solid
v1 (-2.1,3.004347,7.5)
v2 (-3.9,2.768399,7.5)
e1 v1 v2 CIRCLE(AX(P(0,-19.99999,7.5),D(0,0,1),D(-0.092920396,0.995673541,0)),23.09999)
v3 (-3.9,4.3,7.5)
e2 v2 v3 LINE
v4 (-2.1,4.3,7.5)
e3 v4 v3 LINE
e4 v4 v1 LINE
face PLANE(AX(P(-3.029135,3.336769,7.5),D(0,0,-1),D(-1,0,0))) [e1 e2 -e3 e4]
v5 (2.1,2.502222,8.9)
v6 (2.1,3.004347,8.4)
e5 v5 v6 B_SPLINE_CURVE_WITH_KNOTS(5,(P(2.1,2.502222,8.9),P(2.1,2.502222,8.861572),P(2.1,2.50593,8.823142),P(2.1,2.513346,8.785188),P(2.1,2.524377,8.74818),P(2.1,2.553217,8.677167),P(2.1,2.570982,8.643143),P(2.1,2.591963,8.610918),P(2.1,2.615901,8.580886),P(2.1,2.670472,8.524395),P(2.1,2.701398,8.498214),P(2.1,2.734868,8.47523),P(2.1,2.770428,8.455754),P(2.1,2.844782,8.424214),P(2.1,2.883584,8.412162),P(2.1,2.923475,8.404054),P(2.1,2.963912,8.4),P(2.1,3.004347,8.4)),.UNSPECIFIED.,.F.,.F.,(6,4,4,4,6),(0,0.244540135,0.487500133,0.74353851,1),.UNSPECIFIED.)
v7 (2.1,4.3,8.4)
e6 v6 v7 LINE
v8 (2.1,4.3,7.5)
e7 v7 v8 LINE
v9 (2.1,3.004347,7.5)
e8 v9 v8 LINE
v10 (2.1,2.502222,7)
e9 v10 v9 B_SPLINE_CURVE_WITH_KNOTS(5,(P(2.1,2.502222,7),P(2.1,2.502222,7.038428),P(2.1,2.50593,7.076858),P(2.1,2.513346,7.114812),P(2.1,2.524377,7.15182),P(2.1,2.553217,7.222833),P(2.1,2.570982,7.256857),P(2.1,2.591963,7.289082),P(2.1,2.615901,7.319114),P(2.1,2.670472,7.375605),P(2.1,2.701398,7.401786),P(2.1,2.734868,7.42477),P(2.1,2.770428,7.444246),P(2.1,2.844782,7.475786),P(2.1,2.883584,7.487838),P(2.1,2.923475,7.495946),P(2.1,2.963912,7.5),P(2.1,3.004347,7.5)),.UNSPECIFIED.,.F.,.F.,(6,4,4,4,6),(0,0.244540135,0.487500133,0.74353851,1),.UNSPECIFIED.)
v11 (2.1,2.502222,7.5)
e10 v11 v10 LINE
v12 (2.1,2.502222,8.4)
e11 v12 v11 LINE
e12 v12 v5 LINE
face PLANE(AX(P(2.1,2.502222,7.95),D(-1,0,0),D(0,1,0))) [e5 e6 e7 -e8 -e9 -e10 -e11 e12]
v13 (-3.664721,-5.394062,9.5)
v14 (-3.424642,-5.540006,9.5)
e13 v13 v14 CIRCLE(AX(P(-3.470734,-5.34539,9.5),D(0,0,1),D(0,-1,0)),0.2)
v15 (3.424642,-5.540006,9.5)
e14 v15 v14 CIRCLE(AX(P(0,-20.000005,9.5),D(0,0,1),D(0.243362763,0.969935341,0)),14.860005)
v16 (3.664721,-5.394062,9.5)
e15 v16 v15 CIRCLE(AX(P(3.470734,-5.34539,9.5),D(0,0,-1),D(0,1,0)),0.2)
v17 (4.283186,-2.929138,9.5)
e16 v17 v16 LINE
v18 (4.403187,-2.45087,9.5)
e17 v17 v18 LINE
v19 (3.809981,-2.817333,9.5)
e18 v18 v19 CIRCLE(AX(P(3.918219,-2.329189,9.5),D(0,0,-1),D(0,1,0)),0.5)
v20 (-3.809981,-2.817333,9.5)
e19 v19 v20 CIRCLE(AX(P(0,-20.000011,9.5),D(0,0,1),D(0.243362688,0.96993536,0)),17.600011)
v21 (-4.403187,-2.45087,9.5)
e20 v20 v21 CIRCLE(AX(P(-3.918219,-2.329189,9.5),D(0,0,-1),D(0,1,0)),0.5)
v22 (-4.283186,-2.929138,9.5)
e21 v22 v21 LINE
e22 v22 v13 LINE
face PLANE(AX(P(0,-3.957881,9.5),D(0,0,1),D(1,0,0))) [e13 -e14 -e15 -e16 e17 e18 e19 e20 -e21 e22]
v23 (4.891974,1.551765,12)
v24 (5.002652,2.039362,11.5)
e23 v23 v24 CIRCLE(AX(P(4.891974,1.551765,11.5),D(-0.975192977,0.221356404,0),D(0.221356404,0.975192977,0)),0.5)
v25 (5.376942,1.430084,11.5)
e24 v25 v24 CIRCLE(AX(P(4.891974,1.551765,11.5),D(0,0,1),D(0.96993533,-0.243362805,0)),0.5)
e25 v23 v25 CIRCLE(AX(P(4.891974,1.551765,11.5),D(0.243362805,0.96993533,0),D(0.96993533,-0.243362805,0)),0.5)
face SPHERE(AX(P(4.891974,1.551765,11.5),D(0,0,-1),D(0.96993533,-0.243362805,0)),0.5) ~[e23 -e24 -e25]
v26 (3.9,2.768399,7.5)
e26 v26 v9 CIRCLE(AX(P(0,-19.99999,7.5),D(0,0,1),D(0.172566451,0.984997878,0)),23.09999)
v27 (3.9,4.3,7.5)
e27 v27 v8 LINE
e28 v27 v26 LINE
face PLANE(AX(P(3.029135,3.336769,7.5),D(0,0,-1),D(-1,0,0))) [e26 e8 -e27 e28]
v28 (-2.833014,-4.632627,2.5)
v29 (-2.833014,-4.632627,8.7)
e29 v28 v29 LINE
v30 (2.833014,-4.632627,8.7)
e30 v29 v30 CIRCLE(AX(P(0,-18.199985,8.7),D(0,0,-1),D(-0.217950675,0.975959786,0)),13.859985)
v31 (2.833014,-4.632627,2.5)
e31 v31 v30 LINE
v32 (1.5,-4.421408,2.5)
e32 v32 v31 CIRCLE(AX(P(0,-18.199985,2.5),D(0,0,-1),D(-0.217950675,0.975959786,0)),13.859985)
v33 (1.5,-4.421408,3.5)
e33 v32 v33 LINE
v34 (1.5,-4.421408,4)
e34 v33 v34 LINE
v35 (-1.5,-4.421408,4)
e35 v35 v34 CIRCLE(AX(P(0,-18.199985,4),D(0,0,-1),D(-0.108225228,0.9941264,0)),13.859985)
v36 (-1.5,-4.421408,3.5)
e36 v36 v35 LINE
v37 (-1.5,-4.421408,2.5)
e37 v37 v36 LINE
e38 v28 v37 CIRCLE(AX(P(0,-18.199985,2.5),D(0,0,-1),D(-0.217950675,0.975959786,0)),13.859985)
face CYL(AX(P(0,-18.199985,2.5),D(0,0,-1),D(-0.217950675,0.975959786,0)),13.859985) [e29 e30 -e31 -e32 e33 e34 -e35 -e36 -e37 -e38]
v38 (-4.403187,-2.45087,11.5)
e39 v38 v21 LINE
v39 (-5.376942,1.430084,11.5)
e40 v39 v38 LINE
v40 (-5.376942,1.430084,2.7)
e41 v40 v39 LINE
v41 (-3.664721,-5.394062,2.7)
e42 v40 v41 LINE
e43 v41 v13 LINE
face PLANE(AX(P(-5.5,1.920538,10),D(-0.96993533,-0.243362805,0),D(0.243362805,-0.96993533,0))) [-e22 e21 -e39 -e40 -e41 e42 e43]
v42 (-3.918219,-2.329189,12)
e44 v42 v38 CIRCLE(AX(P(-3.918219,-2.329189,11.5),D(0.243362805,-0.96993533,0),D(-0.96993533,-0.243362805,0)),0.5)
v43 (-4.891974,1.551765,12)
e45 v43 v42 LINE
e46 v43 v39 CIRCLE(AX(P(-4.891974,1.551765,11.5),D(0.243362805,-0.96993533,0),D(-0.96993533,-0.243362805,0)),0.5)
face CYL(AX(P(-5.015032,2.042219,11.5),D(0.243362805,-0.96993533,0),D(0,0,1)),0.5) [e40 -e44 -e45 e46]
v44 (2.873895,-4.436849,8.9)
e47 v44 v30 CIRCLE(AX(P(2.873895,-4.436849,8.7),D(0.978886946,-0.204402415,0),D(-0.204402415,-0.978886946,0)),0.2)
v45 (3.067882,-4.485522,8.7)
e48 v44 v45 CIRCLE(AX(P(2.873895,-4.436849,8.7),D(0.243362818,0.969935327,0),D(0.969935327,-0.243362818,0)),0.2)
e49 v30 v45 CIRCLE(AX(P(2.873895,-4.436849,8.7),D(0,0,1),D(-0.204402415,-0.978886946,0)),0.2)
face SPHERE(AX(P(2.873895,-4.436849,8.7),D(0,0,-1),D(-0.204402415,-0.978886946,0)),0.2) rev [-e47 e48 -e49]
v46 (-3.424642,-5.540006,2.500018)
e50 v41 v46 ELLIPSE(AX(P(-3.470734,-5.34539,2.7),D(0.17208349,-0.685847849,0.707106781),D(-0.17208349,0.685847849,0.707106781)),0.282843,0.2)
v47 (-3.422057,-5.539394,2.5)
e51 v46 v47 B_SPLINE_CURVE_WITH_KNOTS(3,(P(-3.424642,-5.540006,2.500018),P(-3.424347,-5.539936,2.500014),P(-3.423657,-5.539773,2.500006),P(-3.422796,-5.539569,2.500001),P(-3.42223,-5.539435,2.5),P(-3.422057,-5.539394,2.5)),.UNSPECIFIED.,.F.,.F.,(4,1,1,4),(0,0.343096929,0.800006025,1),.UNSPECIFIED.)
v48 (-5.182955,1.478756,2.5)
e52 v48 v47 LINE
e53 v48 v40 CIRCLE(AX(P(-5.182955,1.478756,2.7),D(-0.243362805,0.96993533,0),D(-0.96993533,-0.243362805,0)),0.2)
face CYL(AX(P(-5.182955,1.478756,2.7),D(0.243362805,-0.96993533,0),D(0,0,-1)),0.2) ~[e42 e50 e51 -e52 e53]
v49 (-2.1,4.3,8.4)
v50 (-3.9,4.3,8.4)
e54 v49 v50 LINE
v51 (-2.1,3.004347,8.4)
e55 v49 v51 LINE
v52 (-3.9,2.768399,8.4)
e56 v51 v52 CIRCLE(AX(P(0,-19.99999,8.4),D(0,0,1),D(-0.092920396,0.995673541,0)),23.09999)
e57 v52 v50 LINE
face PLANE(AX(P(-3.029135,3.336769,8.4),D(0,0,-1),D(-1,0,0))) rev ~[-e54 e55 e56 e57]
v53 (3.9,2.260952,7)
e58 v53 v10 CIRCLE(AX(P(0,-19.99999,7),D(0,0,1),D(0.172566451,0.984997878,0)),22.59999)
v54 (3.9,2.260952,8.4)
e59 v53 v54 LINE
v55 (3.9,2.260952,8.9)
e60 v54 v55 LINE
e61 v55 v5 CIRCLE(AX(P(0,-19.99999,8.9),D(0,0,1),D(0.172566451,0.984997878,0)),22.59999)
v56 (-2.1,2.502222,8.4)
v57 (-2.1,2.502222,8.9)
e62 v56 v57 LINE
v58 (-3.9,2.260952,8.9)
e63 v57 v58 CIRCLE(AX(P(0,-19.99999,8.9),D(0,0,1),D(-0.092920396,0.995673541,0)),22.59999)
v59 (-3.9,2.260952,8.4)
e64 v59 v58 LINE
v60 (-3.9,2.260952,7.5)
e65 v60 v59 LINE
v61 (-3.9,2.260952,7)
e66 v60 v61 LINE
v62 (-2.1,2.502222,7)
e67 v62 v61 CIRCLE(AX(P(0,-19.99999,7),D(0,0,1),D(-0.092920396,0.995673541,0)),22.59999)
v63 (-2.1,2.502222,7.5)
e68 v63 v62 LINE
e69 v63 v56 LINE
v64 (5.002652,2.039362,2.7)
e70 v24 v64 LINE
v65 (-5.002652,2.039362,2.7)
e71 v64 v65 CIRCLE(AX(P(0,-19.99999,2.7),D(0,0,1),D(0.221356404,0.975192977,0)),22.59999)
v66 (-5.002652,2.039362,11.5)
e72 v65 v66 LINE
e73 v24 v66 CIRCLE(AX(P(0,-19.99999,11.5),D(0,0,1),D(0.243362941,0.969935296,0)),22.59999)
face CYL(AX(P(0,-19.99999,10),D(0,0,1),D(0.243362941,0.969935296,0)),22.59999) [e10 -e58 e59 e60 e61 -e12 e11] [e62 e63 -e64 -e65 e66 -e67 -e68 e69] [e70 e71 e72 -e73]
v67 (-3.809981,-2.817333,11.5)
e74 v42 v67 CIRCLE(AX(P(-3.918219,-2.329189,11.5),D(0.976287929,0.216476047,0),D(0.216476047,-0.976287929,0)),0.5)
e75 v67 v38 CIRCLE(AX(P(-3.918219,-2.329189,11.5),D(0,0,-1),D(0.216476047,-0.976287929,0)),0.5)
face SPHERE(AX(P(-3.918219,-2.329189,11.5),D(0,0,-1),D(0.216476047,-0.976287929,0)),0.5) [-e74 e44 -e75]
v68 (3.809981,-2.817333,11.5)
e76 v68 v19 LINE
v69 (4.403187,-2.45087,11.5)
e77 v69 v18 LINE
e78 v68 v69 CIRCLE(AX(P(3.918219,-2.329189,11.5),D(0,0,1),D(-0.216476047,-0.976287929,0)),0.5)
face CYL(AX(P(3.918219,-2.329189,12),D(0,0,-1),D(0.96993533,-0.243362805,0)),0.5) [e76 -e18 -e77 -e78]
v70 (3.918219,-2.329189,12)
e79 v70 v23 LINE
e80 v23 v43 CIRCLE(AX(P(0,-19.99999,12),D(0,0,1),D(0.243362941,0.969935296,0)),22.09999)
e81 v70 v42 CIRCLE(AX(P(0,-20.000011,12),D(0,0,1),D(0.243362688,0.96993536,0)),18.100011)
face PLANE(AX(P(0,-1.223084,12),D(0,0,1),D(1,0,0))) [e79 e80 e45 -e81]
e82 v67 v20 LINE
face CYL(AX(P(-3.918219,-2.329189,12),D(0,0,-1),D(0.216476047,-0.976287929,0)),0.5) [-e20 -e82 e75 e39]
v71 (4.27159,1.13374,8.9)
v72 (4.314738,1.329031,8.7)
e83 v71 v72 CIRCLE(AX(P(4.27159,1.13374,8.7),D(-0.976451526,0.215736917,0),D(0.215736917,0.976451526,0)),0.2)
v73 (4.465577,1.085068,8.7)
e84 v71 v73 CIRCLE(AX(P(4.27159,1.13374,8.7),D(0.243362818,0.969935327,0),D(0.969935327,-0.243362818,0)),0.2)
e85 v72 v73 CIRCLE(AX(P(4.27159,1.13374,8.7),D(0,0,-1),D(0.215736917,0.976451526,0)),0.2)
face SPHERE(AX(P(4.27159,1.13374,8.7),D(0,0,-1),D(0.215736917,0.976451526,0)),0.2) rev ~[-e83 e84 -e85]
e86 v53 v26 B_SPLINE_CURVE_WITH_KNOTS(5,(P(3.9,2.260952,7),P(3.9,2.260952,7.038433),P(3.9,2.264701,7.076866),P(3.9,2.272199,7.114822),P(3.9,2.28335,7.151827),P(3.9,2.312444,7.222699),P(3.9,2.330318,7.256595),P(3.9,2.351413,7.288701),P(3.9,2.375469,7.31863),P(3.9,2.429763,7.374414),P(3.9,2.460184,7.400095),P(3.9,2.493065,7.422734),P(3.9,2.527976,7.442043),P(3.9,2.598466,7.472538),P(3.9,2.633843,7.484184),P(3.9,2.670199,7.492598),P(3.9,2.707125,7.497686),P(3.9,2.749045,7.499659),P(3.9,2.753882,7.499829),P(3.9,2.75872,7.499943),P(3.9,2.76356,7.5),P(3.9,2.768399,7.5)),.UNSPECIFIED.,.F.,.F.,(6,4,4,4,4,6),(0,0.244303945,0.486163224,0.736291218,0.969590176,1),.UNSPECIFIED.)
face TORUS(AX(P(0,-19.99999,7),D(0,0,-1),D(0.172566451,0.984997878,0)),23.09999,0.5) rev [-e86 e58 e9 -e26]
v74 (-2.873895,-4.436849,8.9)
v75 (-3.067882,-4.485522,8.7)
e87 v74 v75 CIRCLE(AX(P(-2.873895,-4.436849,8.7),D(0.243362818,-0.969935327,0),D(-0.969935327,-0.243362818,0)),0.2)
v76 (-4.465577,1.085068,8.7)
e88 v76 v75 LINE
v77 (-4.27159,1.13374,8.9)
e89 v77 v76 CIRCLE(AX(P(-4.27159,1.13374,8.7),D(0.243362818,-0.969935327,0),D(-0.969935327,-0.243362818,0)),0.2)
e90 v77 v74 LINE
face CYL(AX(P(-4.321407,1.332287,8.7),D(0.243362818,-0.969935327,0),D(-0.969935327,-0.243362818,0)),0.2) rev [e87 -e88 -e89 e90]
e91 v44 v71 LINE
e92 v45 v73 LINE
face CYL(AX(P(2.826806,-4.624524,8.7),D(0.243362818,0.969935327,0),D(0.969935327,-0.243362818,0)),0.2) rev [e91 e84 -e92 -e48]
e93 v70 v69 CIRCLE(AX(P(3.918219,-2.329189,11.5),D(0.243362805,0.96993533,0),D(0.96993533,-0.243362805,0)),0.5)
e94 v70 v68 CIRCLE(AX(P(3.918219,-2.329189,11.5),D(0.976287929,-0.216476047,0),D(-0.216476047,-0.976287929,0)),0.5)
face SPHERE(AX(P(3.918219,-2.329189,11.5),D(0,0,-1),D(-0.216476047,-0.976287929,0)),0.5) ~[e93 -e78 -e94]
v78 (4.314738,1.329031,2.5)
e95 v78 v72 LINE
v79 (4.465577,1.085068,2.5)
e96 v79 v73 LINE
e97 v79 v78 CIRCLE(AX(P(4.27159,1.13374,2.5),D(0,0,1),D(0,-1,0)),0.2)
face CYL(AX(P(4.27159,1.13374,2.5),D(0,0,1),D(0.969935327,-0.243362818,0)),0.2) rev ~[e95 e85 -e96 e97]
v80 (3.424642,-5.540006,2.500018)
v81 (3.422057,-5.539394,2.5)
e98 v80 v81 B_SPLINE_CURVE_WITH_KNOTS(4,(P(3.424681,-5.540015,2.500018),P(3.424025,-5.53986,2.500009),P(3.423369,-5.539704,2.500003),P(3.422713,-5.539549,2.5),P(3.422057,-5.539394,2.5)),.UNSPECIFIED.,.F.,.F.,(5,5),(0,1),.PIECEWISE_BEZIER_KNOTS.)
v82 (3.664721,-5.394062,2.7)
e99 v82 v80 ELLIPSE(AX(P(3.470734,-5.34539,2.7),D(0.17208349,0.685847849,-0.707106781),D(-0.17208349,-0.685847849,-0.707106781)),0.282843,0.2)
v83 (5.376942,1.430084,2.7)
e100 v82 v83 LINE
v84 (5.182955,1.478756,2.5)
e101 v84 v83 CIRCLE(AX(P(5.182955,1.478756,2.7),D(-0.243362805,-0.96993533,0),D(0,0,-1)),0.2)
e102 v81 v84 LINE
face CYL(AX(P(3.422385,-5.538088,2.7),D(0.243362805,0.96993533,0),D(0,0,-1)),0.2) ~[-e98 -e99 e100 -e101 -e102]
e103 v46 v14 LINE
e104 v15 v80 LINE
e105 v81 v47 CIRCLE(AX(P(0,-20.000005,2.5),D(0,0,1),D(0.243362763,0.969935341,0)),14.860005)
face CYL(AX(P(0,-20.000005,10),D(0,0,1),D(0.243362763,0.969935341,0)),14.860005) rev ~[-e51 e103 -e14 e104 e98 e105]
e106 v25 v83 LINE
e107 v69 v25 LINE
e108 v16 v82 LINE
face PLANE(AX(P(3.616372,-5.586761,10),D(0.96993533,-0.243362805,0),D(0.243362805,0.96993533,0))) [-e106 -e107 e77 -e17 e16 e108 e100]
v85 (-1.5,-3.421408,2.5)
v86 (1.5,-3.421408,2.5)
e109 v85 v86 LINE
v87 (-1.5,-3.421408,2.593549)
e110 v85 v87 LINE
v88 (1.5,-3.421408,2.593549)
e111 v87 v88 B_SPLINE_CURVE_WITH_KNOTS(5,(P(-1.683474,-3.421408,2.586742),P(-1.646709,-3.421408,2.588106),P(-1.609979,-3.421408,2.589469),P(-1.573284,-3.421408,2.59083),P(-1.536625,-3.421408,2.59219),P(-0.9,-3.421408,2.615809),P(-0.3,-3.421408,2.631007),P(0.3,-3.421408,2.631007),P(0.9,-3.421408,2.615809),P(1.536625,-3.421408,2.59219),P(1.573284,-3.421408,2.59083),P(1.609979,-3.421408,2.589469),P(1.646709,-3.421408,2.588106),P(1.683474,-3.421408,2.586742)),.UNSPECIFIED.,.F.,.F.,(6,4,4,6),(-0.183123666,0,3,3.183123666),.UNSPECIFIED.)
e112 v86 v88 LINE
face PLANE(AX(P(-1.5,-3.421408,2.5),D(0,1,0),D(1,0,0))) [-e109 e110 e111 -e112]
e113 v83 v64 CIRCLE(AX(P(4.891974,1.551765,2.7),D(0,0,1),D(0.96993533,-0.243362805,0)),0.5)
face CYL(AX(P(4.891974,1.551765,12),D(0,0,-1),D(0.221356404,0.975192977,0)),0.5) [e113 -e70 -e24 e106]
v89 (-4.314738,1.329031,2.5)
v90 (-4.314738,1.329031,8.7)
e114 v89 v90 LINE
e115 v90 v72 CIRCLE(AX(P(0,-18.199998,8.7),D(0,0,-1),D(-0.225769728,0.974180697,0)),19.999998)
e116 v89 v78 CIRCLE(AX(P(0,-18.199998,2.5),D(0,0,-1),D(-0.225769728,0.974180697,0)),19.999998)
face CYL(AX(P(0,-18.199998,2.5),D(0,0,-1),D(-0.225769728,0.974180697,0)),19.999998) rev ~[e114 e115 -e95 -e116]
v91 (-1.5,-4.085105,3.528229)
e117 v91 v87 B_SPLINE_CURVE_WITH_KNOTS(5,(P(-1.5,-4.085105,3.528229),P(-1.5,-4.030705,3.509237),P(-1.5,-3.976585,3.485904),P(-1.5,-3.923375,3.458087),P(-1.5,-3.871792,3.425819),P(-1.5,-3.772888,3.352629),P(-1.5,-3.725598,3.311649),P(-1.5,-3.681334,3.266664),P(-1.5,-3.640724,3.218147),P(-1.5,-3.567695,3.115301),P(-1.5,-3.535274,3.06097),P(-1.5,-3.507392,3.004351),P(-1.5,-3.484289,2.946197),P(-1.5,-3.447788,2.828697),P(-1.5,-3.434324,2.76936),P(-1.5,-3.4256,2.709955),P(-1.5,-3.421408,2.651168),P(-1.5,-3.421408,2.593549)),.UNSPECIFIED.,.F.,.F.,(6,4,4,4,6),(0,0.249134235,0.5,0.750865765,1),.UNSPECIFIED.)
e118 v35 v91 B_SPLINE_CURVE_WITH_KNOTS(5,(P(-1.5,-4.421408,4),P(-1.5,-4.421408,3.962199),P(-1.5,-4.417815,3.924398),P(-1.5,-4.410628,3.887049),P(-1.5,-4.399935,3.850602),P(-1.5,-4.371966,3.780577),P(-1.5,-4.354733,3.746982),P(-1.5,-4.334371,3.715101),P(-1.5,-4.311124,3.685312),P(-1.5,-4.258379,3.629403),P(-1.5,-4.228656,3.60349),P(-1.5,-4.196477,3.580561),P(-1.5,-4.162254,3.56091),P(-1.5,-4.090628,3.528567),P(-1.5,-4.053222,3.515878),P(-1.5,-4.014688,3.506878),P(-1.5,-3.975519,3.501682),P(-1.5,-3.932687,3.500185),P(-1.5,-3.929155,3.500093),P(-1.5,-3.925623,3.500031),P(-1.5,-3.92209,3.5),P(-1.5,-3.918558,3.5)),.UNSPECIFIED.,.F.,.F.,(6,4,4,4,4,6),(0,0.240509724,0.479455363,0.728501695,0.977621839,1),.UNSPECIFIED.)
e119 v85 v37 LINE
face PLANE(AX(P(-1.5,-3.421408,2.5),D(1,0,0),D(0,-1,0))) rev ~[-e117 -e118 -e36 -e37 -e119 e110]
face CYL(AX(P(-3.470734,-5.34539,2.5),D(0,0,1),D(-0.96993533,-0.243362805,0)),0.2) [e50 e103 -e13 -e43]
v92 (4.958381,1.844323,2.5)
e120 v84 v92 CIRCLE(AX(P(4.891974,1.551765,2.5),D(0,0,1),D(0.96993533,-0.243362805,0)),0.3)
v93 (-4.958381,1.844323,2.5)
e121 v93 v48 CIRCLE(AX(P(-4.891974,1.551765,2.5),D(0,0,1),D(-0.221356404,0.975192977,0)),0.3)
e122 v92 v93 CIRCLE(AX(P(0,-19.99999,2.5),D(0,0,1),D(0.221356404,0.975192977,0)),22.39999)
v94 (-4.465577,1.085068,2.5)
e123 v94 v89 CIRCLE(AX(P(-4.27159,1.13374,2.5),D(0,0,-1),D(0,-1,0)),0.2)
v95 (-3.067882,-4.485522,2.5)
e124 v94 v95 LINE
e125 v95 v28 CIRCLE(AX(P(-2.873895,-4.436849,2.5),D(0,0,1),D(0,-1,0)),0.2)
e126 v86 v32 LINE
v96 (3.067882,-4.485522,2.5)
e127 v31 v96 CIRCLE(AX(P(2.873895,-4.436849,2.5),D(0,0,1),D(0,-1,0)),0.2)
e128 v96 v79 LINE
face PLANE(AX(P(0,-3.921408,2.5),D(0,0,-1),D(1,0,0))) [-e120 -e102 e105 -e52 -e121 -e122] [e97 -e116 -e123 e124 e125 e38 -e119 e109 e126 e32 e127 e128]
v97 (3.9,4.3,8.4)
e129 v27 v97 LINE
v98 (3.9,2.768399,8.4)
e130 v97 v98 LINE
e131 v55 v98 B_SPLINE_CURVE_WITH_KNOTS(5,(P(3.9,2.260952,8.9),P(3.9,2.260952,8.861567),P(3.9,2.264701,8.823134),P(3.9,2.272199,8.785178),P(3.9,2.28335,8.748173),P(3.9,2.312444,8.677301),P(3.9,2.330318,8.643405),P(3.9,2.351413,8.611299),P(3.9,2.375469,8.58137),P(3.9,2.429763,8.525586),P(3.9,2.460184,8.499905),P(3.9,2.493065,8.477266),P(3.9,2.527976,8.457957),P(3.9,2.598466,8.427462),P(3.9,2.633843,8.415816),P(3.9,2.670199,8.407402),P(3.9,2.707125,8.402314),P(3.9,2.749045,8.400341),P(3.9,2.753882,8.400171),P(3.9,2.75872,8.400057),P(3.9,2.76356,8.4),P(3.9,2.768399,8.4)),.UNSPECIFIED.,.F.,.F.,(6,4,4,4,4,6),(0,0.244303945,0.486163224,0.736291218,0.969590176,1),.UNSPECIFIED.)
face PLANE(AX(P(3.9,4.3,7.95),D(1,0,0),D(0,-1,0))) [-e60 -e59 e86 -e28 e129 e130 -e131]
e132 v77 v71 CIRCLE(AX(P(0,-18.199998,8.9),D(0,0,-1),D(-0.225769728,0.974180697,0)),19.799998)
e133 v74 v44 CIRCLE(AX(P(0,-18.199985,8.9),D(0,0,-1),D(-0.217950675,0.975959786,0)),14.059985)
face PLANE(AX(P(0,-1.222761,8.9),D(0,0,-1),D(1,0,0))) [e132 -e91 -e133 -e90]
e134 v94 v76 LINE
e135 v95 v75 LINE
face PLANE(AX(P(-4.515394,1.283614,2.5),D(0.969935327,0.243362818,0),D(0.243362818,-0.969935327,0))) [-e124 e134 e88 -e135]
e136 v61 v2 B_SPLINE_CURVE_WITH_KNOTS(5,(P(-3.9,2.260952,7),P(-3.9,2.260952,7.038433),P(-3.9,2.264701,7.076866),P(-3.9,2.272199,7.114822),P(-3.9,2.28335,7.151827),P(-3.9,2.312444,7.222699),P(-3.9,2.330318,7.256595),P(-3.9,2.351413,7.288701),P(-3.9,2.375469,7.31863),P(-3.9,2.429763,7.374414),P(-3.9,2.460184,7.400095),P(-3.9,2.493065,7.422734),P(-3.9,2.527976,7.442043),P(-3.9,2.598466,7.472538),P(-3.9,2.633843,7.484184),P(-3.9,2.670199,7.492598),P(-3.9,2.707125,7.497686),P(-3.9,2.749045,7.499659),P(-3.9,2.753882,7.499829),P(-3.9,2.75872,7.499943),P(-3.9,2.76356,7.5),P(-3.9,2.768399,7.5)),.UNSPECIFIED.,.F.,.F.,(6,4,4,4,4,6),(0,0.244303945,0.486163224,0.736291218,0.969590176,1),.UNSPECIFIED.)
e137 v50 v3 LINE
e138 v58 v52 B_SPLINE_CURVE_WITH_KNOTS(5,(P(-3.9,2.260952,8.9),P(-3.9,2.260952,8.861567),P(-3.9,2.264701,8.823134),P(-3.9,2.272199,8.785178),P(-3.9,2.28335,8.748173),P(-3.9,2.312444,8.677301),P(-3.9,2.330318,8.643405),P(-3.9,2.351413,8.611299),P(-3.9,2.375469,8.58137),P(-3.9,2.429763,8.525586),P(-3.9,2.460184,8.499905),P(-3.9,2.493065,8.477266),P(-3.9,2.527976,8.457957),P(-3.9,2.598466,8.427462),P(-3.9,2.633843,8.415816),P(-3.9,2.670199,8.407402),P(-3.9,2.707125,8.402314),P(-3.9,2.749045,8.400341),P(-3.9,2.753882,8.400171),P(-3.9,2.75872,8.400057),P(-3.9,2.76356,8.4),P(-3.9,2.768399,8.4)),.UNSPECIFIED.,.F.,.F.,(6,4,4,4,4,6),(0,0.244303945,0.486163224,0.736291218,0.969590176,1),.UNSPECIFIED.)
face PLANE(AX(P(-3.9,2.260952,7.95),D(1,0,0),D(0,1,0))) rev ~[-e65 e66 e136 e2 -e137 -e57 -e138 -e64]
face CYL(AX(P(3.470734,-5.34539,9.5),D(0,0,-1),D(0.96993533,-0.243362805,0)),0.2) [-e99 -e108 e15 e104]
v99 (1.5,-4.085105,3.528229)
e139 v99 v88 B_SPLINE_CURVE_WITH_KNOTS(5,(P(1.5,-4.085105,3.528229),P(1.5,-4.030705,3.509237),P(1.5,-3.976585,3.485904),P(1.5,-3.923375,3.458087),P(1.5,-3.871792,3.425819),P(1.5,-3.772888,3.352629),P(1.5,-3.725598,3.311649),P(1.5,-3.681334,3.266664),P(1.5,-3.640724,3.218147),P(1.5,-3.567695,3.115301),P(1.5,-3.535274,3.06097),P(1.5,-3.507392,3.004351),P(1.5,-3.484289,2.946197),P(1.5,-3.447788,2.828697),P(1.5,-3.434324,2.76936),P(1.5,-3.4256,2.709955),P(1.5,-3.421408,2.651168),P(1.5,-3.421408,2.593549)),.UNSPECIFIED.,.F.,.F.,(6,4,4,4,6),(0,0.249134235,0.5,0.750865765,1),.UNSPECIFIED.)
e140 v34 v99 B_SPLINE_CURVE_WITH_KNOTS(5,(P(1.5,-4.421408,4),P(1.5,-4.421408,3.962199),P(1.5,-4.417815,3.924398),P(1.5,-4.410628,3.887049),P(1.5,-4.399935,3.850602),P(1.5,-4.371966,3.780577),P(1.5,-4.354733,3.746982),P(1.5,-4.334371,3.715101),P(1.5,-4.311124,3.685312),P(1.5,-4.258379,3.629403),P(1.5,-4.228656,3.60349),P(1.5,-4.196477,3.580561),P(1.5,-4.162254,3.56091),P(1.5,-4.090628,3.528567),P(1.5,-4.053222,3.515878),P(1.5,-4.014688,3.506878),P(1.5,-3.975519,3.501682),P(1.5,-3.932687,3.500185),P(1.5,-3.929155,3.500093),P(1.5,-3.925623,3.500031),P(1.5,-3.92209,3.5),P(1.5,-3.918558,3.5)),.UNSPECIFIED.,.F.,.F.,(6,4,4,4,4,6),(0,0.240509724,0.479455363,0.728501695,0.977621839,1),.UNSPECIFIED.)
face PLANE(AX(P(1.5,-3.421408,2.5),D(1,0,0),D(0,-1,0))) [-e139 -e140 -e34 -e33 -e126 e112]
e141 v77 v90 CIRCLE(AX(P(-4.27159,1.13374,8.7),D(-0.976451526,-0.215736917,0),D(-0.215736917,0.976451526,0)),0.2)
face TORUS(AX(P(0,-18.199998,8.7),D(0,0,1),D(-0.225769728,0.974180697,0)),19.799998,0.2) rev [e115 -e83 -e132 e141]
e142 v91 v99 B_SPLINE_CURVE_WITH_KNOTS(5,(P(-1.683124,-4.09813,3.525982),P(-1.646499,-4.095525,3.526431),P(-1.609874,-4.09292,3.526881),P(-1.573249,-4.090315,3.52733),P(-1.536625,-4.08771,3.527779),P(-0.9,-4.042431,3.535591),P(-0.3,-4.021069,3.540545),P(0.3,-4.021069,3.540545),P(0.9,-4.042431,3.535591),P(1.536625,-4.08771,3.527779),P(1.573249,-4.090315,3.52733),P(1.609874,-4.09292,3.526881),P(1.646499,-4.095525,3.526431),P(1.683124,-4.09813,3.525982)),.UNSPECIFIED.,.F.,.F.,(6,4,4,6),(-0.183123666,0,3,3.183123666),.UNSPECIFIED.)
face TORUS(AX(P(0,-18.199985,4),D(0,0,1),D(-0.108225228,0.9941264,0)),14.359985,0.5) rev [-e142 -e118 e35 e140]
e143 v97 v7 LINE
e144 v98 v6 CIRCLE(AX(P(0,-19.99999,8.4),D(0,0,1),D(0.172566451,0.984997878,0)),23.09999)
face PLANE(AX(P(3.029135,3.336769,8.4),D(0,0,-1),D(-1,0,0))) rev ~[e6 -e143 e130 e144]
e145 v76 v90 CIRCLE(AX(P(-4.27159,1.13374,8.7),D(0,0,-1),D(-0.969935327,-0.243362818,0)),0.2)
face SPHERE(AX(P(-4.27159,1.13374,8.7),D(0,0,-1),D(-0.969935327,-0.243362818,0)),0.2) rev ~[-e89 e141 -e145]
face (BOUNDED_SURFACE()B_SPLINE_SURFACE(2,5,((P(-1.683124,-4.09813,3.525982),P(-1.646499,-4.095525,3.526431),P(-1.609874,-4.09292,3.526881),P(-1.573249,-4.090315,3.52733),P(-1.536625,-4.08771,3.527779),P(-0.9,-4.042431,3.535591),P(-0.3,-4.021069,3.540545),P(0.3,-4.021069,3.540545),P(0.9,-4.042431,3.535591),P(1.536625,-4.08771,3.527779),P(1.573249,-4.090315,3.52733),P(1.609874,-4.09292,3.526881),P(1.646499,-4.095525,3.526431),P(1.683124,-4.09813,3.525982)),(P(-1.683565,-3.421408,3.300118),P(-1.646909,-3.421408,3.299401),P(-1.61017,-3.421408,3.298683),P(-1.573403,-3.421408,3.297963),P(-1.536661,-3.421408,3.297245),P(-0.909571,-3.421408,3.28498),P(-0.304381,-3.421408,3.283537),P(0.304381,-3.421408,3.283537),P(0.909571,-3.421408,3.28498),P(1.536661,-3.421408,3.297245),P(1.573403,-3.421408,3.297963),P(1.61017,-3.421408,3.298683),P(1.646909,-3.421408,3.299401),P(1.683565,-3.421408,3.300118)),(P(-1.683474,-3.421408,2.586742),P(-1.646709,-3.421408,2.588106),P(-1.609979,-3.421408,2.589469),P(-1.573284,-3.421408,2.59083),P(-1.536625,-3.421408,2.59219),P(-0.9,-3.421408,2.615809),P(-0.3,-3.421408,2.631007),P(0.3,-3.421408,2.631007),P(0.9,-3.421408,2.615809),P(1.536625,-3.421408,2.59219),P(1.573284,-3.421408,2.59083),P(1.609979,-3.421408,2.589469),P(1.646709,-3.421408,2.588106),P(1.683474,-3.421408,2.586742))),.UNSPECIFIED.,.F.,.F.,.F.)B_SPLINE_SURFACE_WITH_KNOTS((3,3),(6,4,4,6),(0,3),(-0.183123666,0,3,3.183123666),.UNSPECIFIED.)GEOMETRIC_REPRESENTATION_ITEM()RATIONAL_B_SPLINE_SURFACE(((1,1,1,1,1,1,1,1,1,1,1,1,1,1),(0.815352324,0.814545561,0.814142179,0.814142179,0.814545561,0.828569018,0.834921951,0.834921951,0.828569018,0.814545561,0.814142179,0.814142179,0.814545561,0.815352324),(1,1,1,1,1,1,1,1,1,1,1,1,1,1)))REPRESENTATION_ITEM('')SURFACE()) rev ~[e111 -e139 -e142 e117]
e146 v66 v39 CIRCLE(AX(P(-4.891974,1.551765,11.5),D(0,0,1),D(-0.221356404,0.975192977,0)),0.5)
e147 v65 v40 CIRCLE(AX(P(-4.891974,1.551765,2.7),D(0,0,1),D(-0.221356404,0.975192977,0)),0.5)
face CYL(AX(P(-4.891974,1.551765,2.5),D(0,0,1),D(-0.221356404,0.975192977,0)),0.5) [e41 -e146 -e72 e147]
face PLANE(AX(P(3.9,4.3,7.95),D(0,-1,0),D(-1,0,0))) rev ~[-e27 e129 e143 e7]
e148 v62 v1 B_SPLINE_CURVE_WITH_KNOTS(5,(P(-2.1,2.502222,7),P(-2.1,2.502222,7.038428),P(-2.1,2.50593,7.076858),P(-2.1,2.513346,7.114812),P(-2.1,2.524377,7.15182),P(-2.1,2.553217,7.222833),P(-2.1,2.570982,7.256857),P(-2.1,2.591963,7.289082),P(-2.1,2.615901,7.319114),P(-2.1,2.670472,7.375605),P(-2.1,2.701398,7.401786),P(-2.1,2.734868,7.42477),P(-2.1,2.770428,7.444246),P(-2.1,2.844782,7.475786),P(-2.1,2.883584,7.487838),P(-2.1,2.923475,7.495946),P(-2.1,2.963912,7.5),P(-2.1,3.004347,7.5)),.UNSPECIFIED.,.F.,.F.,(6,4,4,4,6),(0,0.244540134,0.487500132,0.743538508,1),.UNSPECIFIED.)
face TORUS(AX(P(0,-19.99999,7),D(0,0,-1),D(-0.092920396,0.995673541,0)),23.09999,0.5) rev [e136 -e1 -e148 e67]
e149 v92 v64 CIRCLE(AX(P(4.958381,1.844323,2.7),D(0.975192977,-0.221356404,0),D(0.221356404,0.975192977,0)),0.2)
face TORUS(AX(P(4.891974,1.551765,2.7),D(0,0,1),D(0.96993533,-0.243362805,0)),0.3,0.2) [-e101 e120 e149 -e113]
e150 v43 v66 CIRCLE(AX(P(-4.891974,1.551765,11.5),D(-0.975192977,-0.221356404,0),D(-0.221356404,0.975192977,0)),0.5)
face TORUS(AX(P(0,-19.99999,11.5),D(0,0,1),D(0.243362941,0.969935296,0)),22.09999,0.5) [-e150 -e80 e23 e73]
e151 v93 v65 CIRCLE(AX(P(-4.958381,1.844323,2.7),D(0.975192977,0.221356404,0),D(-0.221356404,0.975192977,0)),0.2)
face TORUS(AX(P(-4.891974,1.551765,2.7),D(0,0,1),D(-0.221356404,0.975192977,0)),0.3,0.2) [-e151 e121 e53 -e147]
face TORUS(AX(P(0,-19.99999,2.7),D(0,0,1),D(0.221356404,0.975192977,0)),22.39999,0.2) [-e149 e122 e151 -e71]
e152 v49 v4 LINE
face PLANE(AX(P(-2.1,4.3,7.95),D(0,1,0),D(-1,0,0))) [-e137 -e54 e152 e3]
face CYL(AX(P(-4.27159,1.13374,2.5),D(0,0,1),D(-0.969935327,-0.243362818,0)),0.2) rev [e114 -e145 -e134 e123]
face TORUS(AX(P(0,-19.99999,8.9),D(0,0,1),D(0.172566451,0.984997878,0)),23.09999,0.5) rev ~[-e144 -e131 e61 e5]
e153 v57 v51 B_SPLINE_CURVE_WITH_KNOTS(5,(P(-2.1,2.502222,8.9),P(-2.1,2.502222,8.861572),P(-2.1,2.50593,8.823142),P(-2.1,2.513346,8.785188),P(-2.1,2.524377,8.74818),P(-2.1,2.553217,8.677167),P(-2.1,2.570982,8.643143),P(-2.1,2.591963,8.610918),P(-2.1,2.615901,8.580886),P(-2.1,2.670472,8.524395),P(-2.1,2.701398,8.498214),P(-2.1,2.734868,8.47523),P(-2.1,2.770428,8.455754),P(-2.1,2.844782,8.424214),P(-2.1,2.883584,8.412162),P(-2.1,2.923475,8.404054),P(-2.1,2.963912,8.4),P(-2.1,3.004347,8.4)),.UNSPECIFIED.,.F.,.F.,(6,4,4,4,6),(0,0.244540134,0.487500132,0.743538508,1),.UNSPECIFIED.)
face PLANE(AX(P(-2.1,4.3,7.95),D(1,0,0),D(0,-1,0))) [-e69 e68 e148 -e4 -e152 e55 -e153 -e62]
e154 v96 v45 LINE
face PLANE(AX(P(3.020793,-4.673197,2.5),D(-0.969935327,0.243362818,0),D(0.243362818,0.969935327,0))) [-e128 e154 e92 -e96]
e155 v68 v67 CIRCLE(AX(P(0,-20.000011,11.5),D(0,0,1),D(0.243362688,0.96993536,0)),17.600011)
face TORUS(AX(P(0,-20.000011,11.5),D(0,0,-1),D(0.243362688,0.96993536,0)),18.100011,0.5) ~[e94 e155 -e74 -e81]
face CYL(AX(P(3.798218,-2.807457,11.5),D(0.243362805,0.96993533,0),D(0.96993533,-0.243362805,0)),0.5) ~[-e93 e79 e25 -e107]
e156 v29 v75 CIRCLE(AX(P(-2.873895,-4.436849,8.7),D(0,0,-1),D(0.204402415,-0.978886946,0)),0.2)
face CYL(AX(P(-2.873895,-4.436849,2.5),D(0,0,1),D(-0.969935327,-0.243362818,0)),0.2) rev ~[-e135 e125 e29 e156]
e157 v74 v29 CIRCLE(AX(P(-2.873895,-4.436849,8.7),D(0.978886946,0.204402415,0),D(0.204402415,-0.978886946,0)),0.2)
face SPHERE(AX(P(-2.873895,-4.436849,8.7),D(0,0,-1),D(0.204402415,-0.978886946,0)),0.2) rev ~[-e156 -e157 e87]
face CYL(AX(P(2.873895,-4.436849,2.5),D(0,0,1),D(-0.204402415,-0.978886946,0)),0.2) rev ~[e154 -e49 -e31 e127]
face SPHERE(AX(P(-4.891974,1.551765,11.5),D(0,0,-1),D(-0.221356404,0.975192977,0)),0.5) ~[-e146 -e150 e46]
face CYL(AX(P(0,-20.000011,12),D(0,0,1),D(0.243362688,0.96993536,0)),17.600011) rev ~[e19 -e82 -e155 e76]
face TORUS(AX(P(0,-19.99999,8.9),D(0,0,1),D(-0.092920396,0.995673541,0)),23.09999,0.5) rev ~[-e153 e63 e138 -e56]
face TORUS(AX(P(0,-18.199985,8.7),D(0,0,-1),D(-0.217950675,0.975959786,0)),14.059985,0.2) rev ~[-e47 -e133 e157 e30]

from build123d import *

# Parameters (mm, degrees)
PAD011_DEPTH      = 2
PAD011_DEPTH_BACK = 7.5
POCKET004_DEPTH   = 6.4
POCKET005_DEPTH   = 2.5
PAD013_DEPTH      = 0.45
PAD013_DEPTH_BACK = 0.45
FILLET023_R       = 0.5
FILLET025_R       = 0.2
FILLET024_R       = 0.2
FILLET020_R       = 0.5
SKETCH021_W       = 3
SKETCH021_H       = 1
PAD012_DEPTH      = 1
FILLET022_R       = 0.5
FILLET021_R       = 0.99


with BuildPart() as part:
    # Sketch019 (on DatumPlane) → Pad011 (new body, two sides)
    with BuildSketch(Plane.XY.offset(10)) as pad011_sk:
        with BuildLine():
            ThreePointArc((5.5, 1.920538), (0, 2.6), (-5.5, 1.920538))
            Line((-5.5, 1.920538), (-3.616372, -5.586761))
            ThreePointArc((3.616372, -5.586761), (0, -5.14), (-3.616372, -5.586761))
            Line((3.616372, -5.586761), (5.5, 1.920538))
        make_face()
    extrude(amount=PAD011_DEPTH)
    extrude(pad011_sk.sketch, amount=-PAD011_DEPTH_BACK)

    # Sketch017 (on Face5 of Pad011) → Pocket004 (cut)
    with BuildSketch(Plane(origin=(0, 0, 2.5), x_dir=(1, 0, 0), z_dir=(0, 0, -1))):
        with BuildLine():
            ThreePointArc((-4.515394, -1.283614), (0, -1.8), (4.515394, -1.283614))
            Line((3.020793, 4.673197), (4.515394, -1.283614))
            ThreePointArc((-3.020793, 4.673197), (0, 4.34), (3.020793, 4.673197))
            Line((-4.515394, -1.283614), (-3.020793, 4.673197))
        make_face()
    extrude(amount=-POCKET004_DEPTH, mode=Mode.SUBTRACT)

    # Sketch018 (on Face5 of Pocket004) → Pocket005 (cut)
    with BuildSketch(Plane.XY.offset(12)):
        with BuildLine():
            ThreePointArc((4.283186, -2.929138), (0, -2.4), (-4.283186, -2.929138))
            Line((-4.283186, -2.929138), (-3.616372, -5.586761))
            ThreePointArc((3.616372, -5.586761), (0, -5.14), (-3.616372, -5.586761))
            Line((4.283186, -2.929138), (3.616372, -5.586761))
        make_face()
    extrude(amount=-POCKET005_DEPTH, mode=Mode.SUBTRACT)

    # Sketch020 (on DatumPlane) → Pad013 (join, two sides)
    with BuildSketch(Plane.XY.offset(7.95)) as pad013_sk:
        Polygon((-3.9, 2.260952), (-3.9, 4.3), (-3, 4.3), (-2.1, 4.3), (-2.1, 2.502222), align=None)
        Polygon((2.1, 2.502222), (2.1, 4.3), (3, 4.3), (3.9, 4.3), (3.9, 2.260952), align=None)
    extrude(amount=PAD013_DEPTH)
    extrude(pad013_sk.sketch, amount=-PAD013_DEPTH_BACK)

    # Fillet023
    fillet023_edges = [part.edges().sort_by_distance(p)[0] for p in [
        (0, -2.4, 12),
        (4.891593, -0.5043, 12),
        (0, 2.6, 12),
        (-4.891593, -0.5043, 12),
        (4.283186, -2.929138, 10.75),
        (5.5, 1.920538, 7.25),
        (-5.5, 1.920538, 7.25),
        (-4.283186, -2.929138, 10.75),
    ]]
    fillet(fillet023_edges, radius=FILLET023_R)

    # Fillet025
    fillet025_edges = [part.edges().sort_by_distance(p)[0] for p in [
        (-3.616372, -5.586761, 6),
        (3.616372, -5.586761, 6),
        (-4.496657, -2.078339, 2.5),
        (4.496657, -2.078339, 2.5),
    ]]
    fillet(fillet025_edges, radius=FILLET025_R)

    # Fillet024
    fillet024_edges = [part.edges().sort_by_distance(p)[0] for p in [
        (0, -4.34, 8.9),
        (-3.768094, -1.694791, 8.9),
        (0, 1.8, 8.9),
        (3.768094, -1.694791, 8.9),
        (4.515394, 1.283614, 5.7),
        (3.020793, -4.673197, 5.7),
        (-3.020793, -4.673197, 5.7),
        (-4.515394, 1.283614, 5.7),
    ]]
    fillet(fillet024_edges, radius=FILLET024_R)

    # Fillet020
    fillet020_edges = [part.edges().sort_by_distance(p)[0] for p in [
        (-3.002424, 2.399675, 8.4),
        (-3.002424, 2.399675, 7.5),
        (3.002424, 2.399675, 7.5),
        (3.002424, 2.399675, 8.4),
    ]]
    fillet(fillet020_edges, radius=FILLET020_R)

    # Sketch021 (on Face21 of Fillet020) → Pad012 (join)
    with BuildSketch(Plane(origin=(0, 0, 2.5), x_dir=(1, 0, 0), z_dir=(0, 0, -1))):
        with Locations((0, 3.921408)):
            Rectangle(SKETCH021_W, SKETCH021_H)
    extrude(amount=-PAD012_DEPTH)

    # Fillet022
    fillet022_edges = [part.edges().sort_by_distance(p)[0] for p in [
        (0, -4.34, 3.5),
    ]]
    fillet(fillet022_edges, radius=FILLET022_R)

    # Fillet021
    fillet021_edges = [part.edges().sort_by_distance(p)[0] for p in [
        (0, -3.421408, 3.5),
    ]]
    fillet(fillet021_edges, radius=FILLET021_R)


solid = part.part
